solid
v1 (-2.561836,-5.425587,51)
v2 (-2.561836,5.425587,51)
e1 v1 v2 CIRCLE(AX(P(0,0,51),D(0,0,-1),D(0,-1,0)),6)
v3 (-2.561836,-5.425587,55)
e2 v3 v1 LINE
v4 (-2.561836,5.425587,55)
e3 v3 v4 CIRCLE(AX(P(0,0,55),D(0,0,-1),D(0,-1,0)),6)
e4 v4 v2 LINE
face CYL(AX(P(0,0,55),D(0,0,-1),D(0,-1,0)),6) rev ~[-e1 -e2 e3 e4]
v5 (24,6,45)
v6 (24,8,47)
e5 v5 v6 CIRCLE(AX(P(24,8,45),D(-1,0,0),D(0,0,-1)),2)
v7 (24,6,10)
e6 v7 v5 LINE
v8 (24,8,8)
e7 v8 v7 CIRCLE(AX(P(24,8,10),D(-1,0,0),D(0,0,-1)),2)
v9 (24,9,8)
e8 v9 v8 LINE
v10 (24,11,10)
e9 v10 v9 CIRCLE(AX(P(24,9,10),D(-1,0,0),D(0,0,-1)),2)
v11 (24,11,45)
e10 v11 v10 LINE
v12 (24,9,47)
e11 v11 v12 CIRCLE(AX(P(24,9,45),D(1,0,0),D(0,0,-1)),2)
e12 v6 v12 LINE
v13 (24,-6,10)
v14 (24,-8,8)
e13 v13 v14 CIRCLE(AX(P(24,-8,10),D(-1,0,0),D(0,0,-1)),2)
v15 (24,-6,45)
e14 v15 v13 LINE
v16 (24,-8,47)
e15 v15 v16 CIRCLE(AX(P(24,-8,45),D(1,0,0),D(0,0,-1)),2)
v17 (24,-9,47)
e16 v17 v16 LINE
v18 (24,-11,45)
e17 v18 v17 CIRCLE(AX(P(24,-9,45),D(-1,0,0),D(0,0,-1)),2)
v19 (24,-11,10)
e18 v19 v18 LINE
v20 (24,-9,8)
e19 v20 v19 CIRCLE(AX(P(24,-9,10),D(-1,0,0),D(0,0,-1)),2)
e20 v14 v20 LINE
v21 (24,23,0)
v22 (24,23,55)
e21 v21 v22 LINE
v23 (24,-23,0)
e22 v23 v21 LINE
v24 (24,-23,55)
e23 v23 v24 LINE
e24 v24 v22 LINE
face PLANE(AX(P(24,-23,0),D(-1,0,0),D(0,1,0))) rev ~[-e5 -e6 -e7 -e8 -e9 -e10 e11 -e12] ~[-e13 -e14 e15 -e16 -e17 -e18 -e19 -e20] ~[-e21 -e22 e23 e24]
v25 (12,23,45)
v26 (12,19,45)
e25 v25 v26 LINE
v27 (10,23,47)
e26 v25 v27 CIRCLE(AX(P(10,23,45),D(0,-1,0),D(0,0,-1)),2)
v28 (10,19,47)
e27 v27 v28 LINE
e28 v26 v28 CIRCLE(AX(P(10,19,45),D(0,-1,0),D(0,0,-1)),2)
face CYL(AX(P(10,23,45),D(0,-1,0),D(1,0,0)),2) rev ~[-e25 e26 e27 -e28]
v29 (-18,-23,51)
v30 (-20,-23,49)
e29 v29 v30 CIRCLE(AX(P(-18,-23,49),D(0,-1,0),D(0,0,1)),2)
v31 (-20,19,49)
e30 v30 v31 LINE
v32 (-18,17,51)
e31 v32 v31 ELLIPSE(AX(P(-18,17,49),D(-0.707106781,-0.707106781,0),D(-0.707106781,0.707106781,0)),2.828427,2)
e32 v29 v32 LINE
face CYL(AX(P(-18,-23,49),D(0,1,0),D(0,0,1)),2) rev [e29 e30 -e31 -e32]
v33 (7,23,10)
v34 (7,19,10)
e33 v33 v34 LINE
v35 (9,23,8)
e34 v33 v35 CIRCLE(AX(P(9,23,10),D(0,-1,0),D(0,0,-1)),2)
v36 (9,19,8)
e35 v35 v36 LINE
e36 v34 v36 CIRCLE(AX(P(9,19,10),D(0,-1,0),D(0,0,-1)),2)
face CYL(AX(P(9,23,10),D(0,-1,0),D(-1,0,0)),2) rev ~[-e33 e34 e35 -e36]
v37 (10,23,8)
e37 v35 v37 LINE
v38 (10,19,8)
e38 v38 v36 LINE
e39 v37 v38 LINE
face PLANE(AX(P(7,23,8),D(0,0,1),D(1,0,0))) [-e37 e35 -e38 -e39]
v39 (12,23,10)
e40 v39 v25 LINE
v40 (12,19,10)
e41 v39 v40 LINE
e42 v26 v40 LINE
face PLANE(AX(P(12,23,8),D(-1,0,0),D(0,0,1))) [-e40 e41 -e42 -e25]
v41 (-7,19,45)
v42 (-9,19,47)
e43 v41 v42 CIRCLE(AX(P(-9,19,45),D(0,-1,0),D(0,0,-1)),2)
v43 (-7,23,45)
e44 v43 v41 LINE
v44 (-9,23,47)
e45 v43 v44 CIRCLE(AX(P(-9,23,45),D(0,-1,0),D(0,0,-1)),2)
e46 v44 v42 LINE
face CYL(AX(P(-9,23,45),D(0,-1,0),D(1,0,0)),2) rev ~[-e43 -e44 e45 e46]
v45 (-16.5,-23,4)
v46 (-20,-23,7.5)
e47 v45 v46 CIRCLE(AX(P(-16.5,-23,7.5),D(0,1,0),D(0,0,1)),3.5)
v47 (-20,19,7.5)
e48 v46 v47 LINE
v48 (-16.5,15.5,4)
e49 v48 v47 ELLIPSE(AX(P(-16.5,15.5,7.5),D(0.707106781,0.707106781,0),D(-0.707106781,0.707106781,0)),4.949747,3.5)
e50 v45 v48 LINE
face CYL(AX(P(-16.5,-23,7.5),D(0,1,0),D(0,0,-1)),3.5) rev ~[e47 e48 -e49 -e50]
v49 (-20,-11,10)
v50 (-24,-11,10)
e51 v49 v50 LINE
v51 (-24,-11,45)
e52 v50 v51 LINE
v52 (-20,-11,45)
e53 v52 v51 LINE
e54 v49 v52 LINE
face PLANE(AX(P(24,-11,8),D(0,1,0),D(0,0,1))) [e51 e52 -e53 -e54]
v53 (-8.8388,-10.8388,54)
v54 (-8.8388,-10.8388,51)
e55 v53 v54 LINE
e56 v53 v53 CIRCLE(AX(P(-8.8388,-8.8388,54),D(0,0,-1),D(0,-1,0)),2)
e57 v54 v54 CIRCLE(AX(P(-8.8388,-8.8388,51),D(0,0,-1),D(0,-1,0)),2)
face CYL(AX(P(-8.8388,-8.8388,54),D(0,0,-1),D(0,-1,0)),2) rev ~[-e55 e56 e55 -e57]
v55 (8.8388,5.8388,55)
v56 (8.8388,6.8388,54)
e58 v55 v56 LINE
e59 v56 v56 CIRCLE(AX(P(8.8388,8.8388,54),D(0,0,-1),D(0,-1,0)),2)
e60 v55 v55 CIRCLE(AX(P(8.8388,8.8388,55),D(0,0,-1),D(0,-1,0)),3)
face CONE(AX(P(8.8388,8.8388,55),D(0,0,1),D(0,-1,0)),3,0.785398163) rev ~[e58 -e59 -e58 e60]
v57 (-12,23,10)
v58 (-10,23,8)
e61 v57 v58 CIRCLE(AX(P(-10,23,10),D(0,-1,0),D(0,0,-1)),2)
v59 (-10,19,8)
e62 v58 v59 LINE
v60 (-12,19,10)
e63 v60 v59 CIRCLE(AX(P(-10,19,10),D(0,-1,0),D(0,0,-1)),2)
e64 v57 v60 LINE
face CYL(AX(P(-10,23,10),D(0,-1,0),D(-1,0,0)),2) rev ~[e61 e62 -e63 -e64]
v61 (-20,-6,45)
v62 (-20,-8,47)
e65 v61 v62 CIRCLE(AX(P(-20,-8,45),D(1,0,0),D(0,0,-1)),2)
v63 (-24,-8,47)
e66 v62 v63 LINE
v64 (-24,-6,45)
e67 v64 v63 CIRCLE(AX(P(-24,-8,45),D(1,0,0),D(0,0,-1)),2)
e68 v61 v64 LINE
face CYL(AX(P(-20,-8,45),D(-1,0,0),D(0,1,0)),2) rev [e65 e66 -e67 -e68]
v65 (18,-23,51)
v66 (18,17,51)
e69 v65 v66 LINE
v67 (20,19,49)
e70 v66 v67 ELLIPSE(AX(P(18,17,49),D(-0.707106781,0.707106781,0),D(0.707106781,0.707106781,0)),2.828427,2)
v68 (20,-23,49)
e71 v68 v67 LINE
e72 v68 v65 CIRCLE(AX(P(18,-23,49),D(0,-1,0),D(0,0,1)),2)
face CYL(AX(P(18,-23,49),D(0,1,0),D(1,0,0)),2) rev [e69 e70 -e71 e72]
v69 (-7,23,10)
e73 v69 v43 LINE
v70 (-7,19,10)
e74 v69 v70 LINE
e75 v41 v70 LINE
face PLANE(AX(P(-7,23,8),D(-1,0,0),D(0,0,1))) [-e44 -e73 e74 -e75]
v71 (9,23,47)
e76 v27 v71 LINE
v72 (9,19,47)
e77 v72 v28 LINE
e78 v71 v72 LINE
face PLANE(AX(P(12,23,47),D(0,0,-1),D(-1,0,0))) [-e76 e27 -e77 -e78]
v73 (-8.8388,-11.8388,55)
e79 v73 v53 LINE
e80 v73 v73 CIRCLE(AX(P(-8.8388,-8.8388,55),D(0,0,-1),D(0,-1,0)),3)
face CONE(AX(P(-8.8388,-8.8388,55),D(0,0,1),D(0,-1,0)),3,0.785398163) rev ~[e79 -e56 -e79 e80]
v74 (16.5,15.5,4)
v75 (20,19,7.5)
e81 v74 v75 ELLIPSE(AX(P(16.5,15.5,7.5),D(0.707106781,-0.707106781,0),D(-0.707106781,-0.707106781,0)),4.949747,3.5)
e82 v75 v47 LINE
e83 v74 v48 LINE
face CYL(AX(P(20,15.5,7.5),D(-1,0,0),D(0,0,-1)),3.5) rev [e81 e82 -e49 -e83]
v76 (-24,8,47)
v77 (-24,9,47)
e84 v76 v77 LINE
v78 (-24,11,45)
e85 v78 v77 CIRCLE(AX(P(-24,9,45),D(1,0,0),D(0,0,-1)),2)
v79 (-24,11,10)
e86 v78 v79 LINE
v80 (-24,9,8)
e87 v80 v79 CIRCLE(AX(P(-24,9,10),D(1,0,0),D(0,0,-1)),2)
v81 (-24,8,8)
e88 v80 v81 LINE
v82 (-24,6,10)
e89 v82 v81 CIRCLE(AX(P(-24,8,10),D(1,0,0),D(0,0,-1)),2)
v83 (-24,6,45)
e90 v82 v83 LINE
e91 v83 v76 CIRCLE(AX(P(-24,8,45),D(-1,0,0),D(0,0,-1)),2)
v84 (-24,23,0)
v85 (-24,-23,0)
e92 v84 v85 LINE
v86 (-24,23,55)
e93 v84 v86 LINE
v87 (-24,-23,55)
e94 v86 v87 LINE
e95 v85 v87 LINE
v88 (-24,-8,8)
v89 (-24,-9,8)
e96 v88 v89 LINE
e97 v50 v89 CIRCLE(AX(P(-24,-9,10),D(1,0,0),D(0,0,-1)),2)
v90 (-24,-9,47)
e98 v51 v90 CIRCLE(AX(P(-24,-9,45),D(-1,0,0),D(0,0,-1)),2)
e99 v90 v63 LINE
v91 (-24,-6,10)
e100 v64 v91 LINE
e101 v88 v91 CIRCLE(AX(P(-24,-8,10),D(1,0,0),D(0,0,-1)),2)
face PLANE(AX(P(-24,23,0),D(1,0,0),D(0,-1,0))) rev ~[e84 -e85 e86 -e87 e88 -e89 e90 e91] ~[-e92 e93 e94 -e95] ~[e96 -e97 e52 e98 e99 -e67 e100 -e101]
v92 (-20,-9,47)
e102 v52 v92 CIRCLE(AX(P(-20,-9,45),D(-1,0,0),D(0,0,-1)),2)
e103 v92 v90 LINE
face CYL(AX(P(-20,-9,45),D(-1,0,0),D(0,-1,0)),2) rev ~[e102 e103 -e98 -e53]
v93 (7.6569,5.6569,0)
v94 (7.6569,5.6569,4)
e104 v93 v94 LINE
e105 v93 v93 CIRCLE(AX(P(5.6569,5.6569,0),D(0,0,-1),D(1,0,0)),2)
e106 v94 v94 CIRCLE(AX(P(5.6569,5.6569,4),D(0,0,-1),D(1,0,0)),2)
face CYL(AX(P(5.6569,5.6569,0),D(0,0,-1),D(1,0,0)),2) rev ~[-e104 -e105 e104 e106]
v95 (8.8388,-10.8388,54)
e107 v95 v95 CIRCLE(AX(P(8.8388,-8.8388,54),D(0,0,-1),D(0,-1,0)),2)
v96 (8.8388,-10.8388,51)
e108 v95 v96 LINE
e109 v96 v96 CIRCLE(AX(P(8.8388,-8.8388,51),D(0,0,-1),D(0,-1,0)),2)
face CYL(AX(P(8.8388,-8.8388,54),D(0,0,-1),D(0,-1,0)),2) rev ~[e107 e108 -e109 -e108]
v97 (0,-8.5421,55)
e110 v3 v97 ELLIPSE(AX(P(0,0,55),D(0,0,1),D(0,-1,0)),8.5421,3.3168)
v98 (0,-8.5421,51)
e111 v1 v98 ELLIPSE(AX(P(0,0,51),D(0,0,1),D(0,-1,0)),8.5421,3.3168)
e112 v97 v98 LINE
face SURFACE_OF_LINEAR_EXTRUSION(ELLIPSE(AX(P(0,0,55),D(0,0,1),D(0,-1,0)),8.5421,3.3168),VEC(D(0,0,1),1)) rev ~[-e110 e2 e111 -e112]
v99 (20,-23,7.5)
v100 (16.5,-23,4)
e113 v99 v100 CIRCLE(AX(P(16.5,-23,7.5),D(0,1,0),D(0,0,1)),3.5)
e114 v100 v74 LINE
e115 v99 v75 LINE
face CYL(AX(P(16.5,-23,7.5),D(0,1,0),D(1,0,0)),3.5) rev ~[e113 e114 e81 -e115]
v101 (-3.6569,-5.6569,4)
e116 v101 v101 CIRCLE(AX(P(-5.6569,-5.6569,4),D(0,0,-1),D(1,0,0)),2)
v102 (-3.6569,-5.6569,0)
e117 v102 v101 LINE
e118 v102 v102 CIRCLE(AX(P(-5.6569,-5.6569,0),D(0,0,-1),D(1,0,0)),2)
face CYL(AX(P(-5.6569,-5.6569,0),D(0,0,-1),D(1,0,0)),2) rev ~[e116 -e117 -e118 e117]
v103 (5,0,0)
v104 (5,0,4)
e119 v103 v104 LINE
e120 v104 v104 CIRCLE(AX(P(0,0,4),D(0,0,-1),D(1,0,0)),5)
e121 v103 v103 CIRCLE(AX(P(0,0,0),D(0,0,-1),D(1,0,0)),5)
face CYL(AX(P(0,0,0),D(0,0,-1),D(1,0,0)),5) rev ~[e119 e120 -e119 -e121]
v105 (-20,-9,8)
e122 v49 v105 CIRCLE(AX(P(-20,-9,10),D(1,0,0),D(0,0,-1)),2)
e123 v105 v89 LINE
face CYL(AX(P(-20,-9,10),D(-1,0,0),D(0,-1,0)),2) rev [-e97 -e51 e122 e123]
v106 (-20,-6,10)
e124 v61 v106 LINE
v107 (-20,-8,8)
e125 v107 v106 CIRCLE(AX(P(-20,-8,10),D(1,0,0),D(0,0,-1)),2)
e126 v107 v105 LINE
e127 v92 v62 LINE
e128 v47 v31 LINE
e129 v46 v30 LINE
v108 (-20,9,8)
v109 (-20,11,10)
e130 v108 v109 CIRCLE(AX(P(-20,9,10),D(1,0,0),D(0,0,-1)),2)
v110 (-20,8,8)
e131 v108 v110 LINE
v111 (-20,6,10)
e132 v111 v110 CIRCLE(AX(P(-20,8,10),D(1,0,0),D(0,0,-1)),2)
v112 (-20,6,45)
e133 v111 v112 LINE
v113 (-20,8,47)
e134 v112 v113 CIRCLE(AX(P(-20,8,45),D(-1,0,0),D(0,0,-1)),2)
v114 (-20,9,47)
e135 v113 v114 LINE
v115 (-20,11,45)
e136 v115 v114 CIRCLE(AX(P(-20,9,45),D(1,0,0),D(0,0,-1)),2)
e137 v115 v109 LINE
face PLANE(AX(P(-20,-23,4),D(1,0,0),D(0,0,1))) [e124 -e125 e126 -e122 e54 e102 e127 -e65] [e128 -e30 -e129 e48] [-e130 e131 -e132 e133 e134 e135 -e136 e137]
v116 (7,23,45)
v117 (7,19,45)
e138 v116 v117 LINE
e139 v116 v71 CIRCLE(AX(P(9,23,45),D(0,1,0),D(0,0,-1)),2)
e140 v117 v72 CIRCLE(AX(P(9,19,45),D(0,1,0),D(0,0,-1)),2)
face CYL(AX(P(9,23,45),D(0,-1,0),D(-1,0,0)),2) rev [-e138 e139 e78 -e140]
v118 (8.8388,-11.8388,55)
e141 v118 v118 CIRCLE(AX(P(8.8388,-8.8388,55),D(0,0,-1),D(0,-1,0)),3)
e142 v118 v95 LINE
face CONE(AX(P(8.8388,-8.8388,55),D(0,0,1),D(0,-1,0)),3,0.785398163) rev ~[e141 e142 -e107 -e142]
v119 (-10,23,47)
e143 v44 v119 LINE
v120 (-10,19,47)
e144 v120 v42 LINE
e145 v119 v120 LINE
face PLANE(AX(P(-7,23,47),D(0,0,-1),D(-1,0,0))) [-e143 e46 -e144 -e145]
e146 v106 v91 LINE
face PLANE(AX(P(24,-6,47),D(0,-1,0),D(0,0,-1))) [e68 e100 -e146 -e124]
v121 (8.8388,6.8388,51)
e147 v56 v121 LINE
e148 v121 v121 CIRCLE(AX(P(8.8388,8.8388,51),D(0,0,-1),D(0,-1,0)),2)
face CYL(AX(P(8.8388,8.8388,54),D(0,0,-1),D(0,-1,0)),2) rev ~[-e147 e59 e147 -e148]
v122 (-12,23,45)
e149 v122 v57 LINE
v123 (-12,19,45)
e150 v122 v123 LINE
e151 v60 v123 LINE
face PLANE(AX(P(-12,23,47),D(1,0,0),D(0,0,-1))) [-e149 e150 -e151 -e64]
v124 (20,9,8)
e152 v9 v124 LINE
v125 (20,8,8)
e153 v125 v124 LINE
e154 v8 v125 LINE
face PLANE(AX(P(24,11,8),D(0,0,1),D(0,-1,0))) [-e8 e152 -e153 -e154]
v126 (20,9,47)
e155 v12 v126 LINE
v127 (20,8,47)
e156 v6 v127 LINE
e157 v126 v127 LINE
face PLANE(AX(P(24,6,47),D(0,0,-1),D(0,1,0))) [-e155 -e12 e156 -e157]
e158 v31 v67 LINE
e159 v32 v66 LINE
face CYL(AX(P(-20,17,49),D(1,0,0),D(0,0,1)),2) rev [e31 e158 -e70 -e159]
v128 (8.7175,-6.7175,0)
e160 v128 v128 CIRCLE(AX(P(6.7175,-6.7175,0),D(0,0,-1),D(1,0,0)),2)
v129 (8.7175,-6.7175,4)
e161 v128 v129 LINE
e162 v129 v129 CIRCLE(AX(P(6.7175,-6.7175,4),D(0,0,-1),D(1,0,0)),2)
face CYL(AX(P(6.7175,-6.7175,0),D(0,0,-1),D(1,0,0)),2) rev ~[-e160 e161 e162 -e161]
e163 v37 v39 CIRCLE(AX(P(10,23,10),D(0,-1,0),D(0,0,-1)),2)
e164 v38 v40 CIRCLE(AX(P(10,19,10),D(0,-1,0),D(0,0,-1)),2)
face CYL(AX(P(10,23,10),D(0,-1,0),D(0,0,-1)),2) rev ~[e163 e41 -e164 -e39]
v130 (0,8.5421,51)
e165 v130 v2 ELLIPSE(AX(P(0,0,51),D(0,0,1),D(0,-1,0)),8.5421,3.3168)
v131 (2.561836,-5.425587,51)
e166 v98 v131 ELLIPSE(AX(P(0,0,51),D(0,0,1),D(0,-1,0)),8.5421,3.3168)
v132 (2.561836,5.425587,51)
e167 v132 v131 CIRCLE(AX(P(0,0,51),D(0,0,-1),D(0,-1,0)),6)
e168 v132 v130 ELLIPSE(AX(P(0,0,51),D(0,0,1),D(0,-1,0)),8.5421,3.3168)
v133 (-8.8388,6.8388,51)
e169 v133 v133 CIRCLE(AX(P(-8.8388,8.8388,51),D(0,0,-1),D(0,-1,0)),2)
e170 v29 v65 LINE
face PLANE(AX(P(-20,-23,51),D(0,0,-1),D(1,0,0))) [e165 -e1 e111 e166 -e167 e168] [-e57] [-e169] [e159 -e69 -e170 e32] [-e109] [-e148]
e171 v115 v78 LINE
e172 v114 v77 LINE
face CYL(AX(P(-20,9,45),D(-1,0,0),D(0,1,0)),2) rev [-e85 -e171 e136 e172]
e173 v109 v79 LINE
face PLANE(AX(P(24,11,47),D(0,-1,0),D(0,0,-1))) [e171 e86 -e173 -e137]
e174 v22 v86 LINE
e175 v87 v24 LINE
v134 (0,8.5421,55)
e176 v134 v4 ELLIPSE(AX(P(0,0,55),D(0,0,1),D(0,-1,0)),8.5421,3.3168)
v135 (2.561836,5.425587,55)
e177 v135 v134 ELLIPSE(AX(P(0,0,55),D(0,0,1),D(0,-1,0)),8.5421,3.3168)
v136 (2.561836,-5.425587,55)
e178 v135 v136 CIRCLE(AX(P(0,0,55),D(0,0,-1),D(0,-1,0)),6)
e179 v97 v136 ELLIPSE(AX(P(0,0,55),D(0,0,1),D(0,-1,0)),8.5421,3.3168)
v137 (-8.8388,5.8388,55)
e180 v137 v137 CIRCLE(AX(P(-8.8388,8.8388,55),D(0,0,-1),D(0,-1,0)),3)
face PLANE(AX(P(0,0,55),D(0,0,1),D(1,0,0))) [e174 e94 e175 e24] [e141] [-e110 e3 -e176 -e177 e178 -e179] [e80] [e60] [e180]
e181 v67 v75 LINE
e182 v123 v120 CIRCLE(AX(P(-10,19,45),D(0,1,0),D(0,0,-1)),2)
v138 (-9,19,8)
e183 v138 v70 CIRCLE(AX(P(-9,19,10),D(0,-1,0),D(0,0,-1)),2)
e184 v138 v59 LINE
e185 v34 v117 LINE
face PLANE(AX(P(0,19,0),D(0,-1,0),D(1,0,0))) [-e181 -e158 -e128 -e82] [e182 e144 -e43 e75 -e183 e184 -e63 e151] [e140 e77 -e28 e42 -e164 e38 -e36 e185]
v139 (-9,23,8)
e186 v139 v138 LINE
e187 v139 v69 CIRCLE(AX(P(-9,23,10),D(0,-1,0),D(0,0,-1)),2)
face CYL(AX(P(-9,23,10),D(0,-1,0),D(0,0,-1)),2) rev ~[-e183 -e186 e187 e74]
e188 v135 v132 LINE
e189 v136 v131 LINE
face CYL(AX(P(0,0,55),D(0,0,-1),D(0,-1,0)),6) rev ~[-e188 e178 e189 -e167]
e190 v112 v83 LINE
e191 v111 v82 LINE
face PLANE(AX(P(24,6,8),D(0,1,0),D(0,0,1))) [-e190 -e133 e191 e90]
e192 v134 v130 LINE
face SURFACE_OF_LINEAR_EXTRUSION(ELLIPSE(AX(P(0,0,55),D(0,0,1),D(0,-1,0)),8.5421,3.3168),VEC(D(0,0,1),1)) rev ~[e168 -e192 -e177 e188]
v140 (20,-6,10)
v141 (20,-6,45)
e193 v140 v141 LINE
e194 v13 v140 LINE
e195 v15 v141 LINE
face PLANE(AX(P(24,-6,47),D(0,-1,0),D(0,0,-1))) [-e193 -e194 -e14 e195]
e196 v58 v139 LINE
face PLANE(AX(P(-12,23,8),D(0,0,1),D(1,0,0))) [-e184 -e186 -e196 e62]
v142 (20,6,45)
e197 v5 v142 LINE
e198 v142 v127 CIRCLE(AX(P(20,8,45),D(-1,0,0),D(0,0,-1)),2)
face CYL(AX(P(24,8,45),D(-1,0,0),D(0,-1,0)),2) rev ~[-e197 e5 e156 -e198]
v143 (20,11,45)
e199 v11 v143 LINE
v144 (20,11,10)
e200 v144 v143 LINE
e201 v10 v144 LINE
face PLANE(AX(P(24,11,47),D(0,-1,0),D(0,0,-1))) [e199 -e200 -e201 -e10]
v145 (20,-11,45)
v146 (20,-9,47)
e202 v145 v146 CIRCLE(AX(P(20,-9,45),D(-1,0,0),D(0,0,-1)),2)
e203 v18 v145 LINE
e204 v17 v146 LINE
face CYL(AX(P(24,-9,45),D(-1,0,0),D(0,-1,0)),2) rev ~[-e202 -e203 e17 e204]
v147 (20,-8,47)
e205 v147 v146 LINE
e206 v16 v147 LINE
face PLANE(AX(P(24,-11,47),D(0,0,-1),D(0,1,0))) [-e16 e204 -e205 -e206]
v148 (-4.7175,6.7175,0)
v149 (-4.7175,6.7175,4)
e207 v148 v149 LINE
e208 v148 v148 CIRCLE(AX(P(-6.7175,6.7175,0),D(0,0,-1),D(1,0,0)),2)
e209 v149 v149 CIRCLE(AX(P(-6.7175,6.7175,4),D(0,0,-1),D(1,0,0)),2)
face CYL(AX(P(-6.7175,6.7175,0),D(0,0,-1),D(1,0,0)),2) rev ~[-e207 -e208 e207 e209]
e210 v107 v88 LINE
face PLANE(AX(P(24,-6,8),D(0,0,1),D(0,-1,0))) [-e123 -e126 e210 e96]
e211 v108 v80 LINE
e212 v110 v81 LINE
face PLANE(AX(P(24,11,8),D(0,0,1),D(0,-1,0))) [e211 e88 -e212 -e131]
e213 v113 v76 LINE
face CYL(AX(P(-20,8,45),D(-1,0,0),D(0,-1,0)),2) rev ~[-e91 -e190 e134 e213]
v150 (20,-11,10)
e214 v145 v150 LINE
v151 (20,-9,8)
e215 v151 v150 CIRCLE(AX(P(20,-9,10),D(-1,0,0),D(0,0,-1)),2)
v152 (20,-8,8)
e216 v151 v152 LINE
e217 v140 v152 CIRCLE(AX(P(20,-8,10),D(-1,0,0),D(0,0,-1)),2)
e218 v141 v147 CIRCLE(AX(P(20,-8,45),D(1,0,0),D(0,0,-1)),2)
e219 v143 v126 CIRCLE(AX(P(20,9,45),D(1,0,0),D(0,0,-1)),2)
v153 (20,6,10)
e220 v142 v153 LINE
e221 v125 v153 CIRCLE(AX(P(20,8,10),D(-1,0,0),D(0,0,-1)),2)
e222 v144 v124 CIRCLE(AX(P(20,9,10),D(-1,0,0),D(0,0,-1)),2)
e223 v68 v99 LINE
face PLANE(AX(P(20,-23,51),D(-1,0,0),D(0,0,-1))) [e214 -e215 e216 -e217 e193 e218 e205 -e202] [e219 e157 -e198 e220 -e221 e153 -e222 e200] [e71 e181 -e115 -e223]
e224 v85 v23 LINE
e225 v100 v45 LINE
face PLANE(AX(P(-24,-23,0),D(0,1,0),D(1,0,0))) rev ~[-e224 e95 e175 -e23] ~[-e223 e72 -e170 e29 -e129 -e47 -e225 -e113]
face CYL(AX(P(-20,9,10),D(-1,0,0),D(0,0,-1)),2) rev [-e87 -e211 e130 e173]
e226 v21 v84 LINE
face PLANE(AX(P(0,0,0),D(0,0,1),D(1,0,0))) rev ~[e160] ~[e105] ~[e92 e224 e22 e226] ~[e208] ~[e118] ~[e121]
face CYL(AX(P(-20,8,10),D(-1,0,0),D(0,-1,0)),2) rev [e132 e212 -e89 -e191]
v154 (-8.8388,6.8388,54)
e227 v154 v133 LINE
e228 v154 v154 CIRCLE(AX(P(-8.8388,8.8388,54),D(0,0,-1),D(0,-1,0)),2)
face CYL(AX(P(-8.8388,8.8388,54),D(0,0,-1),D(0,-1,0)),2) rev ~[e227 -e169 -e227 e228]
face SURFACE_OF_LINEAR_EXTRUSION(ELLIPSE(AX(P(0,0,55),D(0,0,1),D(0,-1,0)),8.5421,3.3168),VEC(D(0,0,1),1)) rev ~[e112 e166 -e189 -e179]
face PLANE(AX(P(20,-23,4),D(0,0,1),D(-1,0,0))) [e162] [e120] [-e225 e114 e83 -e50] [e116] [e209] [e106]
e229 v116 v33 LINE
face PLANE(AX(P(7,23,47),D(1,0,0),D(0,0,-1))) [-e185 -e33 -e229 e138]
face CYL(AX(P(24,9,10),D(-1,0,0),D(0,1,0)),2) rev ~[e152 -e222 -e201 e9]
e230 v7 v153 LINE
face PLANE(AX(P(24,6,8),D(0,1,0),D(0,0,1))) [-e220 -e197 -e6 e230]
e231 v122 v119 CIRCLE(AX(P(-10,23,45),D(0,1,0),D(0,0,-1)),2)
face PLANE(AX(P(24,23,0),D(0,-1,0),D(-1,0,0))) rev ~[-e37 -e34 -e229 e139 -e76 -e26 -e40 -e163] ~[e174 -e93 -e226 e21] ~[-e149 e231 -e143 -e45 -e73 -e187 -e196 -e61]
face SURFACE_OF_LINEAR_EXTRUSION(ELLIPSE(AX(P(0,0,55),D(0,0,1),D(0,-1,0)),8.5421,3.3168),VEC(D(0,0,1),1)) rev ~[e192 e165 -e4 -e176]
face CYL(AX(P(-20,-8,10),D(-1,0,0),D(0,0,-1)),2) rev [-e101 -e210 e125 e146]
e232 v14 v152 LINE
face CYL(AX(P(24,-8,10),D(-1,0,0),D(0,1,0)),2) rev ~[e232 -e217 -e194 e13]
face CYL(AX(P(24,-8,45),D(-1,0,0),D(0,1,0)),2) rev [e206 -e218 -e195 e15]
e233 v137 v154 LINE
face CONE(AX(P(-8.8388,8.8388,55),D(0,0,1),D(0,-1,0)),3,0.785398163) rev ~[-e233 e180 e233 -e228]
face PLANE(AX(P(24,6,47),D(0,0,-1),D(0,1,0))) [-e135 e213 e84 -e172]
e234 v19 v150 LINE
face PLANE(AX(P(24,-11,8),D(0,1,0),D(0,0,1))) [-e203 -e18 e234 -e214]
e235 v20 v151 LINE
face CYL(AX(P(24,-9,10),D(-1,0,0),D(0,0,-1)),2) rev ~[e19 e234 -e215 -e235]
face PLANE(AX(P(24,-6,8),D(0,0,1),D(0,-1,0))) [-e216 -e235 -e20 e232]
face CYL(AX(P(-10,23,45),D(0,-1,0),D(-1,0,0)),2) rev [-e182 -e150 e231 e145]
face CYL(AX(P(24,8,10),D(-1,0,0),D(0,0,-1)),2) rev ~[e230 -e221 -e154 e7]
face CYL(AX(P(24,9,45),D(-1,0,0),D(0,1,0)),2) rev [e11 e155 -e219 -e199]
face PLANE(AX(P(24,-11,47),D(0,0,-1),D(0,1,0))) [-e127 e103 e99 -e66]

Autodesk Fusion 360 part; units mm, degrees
sketch "Sketch1" plane through (0, 0, 0) normal (0, 0, 1) x (1, 0, 0)
  line L0 (-24, -23) -> (24, -23)
  line L1 (24, -23) -> (24, 23)
  line L2 (24, 23) -> (-24, 23)
  line L3 (-24, 23) -> (-24, -23)
  dimension "d1" = 48
  dimension "d2" = 46
  dimension "d3" = 24
  dimension "d4" = 23
extrude "Extrude1" add sketch "Sketch1" along normal blind 55
sketch "Sketch2" plane through (0, -23, 0) normal (0, -1, 0) x (1, 0, 0)
  line L0 (-24, 0) -> (24, 0)
  line L1 (24, 0) -> (24, 55)
  line L2 (24, 55) -> (-24, 55)
  line L3 (-24, 55) -> (-24, 0)
  line L4 (-20, 51) -> (20, 51)
  line L5 (20, 51) -> (20, 4)
  line L6 (20, 4) -> (-20, 4)
  line L7 (-20, 4) -> (-20, 51)
  dimension "d7" = 40
  dimension "d8" = 20
  dimension "d10" = 4
  dimension "d58" = 4
extrude "Extrude2" cut sketch "Sketch2" against normal blind 42 contours L4 L5 L6 L7
sketch "Sketch4" plane through (0, 0, 55) normal (0, 0, 1) x (-1, 0, 0)
  line L0 (24, -23) -> (24, 23)
  line L1 (24, 23) -> (-24, 23)
  line L2 (-24, 23) -> (-24, -23)
  line L3 (-24, -23) -> (24, -23)
  circle A0 centre (0, 0) radius 6
  dimension "d23" = 12
hole "Hole1" at (0, 0, 55) direction (0, 0, -1) diameter 12 depth 4 tip angle 118
sketch "Sketch5" plane through (0, 0, 55) normal (0, 0, 1) x (-1, 0, 0)
  circle A0 centre (0, 0) radius 6
  line L0 (24, -23) -> (24, 23)
  line L1 (24, 23) -> (-24, 23)
  line L2 (-24, 23) -> (-24, -23)
  line L3 (-24, -23) -> (24, -23)
  circle A1 centre (-8.8388, -8.8388) radius 1.5
  point P0 (8.8388, -8.8388)
  point P1 (8.8388, 8.8388)
  point P2 (-8.8388, 8.8388)
  dimension "d27" = 12.5
  dimension "d28" = 3
  dimension "d30" = 360
hole "Hole2" at (8.8388, 8.8388, 55) at (-8.8388, 8.8388, 55) at (-8.8388, -8.8388, 55) at (8.8388, -8.8388, 55) direction (0, 0, -1) diameter 4 depth 4 tip angle 118 countersink diameter 6 countersink angle 90
sketch "Sketch7" plane through (0, 0, 0) normal (0, 0, -1) x (1, 0, 0)
  line L0 (-24, 23) -> (-24, -23)
  line L1 (-24, -23) -> (24, -23)
  line L2 (24, -23) -> (24, 23)
  line L3 (24, 23) -> (-24, 23)
  circle A0 centre (0, 0) radius 5
  circle A1 centre (5.6569, -5.6569) radius 2
  circle A2 centre (6.7175, 6.7175) radius 2
  circle A3 centre (-6.7175, -6.7175) radius 2
  circle A4 centre (-5.6569, 5.6569) radius 2
  dimension "d45" = 10
  dimension "d67" = 4
  dimension "d68" = 4
  dimension "d69" = 9.5
  dimension "d70" = 8
  dimension "d71" = 17.3431
  dimension "d72" = 16.2825
  dimension "d74" = 360
extrude "Extrude4" cut sketch "Sketch7" against normal blind 4 contours A0 | A1 | A2 | A3 | A4
sketch "Sketch8" plane through (0, 0, 55) normal (0, 0, 1) x (-1, 0, 0)
  circle A0 centre (0, 0) radius 6
  line L0 (24, -23) -> (24, 23)
  line L1 (24, 23) -> (-24, 23)
  line L2 (-24, 23) -> (-24, -23)
  line L3 (-24, -23) -> (24, -23)
  ellipse E0 centre (0, 0) end of major axis (0, 8.5421) minor radius 3.3168
  line L4 (0, -8.5421) -> (0, 8.5421)
  line L5 (3.3168, 0) -> (-3.3168, 0)
  circle A1 centre (8.8388, 8.8388) radius 3
  circle A2 centre (-8.8388, -8.8388) radius 3
  circle A3 centre (8.8388, -8.8388) radius 3
  circle A4 centre (-8.8388, 8.8388) radius 3
extrude "Extrude5" cut sketch "Sketch8" against normal blind 4 contours A0 E0 L4 | A0 E0 L4 | A0 E0 L4 | A0 E0 L4
sketch "Sketch3" plane through (24, 0, 0) normal (1, 0, 0) x (0, 1, 0)
  line L0 (-21, 0) -> (23, 0)
  line L1 (23, 0) -> (23, 50)
  line L2 (23, 50) -> (-21, 50)
  line L3 (-11, 47) -> (-6, 47)
  line L4 (-6, 47) -> (-6, 8)
  line L5 (-6, 8) -> (-11, 8)
  line L6 (-11, 8) -> (-11, 47)
  line L7 (6, 47) -> (11, 47)
  line L8 (11, 47) -> (11, 8)
  line L9 (11, 8) -> (6, 8)
  line L10 (6, 8) -> (6, 47)
  line L11 (-23, 0) -> (23, 0)
  line L12 (23, 0) -> (23, 55)
  line L13 (23, 55) -> (-23, 55)
  line L14 (-23, 55) -> (-23, 0)
  line L15 (-23, 51) -> (-23, 4)
  point P0 (-23, 55)
  point P1 (23, 55)
  dimension "d16" = 8
  dimension "d20" = 12
  dimension "d60" = 8
  dimension "d75" = 5
  dimension "d76" = 5
  dimension "d97" = 12
  dimension "d100" = 8
  dimension "d101" = 8
extrude "Extrude6" cut sketch "Sketch3" against normal blind 48 contours L3 L4 L5 L6 | L7 L8 L9 L10
sketch "Sketch9" plane through (0, 23, 0) normal (0, 1, 0) x (-1, 0, 0)
  line L0 (-24, 0) -> (24, 0)
  line L1 (24, 0) -> (24, 55)
  line L2 (24, 55) -> (-24, 55)
  line L3 (-24, 55) -> (-24, 0)
  line L4 (-12, 47) -> (-7, 47)
  line L5 (-7, 47) -> (-7, 8)
  line L6 (-7, 8) -> (-12, 8)
  line L7 (-12, 8) -> (-12, 47)
  line L8 (7, 47) -> (12, 47)
  line L9 (12, 47) -> (12, 8)
  line L10 (12, 8) -> (7, 8)
  line L11 (7, 8) -> (7, 47)
  line L12 (-24, 0) -> (24, 0)
  dimension "d79" = 8
  dimension "d80" = 8
  dimension "d81" = 8
  dimension "d82" = 8
  dimension "d83" = 12
  dimension "d84" = 12
  dimension "d85" = 5
  dimension "d86" = 5
extrude "Extrude7" cut sketch "Sketch9" against normal blind 44 contours L4 L5 L6 L7 | L8 L9 L10 L11
fillet "Fillet2" radius 3.5 3 edges at (0, 19, 4) (-20, -2, 4) (20, -2, 4)
fillet "Fillet3" radius 2 24 edges at (22, 11, 8) (22, -6, 8) (-22, 11, 8) (-22, -6, 8) (22, 6, 8) (22, -11, 8) (22, -11, 47) (22, 6, 47) (22, 11, 47) (22, -6, 47) (-22, -6, 47) (-22, -11, 47) (-22, 6, 47) (-22, 11, 47) (-22, -11, 8) (-22, 6, 8) (-7, 21, 8) (12, 21, 8) (7, 21, 8) (-12, 21, 8) (12, 21, 47) (-7, 21, 47) (7, 21, 47) (-12, 21, 47)
fillet "Fillet4" radius 2 3 edges at (-20, -2, 51) (0, 19, 51) (20, -2, 51)
